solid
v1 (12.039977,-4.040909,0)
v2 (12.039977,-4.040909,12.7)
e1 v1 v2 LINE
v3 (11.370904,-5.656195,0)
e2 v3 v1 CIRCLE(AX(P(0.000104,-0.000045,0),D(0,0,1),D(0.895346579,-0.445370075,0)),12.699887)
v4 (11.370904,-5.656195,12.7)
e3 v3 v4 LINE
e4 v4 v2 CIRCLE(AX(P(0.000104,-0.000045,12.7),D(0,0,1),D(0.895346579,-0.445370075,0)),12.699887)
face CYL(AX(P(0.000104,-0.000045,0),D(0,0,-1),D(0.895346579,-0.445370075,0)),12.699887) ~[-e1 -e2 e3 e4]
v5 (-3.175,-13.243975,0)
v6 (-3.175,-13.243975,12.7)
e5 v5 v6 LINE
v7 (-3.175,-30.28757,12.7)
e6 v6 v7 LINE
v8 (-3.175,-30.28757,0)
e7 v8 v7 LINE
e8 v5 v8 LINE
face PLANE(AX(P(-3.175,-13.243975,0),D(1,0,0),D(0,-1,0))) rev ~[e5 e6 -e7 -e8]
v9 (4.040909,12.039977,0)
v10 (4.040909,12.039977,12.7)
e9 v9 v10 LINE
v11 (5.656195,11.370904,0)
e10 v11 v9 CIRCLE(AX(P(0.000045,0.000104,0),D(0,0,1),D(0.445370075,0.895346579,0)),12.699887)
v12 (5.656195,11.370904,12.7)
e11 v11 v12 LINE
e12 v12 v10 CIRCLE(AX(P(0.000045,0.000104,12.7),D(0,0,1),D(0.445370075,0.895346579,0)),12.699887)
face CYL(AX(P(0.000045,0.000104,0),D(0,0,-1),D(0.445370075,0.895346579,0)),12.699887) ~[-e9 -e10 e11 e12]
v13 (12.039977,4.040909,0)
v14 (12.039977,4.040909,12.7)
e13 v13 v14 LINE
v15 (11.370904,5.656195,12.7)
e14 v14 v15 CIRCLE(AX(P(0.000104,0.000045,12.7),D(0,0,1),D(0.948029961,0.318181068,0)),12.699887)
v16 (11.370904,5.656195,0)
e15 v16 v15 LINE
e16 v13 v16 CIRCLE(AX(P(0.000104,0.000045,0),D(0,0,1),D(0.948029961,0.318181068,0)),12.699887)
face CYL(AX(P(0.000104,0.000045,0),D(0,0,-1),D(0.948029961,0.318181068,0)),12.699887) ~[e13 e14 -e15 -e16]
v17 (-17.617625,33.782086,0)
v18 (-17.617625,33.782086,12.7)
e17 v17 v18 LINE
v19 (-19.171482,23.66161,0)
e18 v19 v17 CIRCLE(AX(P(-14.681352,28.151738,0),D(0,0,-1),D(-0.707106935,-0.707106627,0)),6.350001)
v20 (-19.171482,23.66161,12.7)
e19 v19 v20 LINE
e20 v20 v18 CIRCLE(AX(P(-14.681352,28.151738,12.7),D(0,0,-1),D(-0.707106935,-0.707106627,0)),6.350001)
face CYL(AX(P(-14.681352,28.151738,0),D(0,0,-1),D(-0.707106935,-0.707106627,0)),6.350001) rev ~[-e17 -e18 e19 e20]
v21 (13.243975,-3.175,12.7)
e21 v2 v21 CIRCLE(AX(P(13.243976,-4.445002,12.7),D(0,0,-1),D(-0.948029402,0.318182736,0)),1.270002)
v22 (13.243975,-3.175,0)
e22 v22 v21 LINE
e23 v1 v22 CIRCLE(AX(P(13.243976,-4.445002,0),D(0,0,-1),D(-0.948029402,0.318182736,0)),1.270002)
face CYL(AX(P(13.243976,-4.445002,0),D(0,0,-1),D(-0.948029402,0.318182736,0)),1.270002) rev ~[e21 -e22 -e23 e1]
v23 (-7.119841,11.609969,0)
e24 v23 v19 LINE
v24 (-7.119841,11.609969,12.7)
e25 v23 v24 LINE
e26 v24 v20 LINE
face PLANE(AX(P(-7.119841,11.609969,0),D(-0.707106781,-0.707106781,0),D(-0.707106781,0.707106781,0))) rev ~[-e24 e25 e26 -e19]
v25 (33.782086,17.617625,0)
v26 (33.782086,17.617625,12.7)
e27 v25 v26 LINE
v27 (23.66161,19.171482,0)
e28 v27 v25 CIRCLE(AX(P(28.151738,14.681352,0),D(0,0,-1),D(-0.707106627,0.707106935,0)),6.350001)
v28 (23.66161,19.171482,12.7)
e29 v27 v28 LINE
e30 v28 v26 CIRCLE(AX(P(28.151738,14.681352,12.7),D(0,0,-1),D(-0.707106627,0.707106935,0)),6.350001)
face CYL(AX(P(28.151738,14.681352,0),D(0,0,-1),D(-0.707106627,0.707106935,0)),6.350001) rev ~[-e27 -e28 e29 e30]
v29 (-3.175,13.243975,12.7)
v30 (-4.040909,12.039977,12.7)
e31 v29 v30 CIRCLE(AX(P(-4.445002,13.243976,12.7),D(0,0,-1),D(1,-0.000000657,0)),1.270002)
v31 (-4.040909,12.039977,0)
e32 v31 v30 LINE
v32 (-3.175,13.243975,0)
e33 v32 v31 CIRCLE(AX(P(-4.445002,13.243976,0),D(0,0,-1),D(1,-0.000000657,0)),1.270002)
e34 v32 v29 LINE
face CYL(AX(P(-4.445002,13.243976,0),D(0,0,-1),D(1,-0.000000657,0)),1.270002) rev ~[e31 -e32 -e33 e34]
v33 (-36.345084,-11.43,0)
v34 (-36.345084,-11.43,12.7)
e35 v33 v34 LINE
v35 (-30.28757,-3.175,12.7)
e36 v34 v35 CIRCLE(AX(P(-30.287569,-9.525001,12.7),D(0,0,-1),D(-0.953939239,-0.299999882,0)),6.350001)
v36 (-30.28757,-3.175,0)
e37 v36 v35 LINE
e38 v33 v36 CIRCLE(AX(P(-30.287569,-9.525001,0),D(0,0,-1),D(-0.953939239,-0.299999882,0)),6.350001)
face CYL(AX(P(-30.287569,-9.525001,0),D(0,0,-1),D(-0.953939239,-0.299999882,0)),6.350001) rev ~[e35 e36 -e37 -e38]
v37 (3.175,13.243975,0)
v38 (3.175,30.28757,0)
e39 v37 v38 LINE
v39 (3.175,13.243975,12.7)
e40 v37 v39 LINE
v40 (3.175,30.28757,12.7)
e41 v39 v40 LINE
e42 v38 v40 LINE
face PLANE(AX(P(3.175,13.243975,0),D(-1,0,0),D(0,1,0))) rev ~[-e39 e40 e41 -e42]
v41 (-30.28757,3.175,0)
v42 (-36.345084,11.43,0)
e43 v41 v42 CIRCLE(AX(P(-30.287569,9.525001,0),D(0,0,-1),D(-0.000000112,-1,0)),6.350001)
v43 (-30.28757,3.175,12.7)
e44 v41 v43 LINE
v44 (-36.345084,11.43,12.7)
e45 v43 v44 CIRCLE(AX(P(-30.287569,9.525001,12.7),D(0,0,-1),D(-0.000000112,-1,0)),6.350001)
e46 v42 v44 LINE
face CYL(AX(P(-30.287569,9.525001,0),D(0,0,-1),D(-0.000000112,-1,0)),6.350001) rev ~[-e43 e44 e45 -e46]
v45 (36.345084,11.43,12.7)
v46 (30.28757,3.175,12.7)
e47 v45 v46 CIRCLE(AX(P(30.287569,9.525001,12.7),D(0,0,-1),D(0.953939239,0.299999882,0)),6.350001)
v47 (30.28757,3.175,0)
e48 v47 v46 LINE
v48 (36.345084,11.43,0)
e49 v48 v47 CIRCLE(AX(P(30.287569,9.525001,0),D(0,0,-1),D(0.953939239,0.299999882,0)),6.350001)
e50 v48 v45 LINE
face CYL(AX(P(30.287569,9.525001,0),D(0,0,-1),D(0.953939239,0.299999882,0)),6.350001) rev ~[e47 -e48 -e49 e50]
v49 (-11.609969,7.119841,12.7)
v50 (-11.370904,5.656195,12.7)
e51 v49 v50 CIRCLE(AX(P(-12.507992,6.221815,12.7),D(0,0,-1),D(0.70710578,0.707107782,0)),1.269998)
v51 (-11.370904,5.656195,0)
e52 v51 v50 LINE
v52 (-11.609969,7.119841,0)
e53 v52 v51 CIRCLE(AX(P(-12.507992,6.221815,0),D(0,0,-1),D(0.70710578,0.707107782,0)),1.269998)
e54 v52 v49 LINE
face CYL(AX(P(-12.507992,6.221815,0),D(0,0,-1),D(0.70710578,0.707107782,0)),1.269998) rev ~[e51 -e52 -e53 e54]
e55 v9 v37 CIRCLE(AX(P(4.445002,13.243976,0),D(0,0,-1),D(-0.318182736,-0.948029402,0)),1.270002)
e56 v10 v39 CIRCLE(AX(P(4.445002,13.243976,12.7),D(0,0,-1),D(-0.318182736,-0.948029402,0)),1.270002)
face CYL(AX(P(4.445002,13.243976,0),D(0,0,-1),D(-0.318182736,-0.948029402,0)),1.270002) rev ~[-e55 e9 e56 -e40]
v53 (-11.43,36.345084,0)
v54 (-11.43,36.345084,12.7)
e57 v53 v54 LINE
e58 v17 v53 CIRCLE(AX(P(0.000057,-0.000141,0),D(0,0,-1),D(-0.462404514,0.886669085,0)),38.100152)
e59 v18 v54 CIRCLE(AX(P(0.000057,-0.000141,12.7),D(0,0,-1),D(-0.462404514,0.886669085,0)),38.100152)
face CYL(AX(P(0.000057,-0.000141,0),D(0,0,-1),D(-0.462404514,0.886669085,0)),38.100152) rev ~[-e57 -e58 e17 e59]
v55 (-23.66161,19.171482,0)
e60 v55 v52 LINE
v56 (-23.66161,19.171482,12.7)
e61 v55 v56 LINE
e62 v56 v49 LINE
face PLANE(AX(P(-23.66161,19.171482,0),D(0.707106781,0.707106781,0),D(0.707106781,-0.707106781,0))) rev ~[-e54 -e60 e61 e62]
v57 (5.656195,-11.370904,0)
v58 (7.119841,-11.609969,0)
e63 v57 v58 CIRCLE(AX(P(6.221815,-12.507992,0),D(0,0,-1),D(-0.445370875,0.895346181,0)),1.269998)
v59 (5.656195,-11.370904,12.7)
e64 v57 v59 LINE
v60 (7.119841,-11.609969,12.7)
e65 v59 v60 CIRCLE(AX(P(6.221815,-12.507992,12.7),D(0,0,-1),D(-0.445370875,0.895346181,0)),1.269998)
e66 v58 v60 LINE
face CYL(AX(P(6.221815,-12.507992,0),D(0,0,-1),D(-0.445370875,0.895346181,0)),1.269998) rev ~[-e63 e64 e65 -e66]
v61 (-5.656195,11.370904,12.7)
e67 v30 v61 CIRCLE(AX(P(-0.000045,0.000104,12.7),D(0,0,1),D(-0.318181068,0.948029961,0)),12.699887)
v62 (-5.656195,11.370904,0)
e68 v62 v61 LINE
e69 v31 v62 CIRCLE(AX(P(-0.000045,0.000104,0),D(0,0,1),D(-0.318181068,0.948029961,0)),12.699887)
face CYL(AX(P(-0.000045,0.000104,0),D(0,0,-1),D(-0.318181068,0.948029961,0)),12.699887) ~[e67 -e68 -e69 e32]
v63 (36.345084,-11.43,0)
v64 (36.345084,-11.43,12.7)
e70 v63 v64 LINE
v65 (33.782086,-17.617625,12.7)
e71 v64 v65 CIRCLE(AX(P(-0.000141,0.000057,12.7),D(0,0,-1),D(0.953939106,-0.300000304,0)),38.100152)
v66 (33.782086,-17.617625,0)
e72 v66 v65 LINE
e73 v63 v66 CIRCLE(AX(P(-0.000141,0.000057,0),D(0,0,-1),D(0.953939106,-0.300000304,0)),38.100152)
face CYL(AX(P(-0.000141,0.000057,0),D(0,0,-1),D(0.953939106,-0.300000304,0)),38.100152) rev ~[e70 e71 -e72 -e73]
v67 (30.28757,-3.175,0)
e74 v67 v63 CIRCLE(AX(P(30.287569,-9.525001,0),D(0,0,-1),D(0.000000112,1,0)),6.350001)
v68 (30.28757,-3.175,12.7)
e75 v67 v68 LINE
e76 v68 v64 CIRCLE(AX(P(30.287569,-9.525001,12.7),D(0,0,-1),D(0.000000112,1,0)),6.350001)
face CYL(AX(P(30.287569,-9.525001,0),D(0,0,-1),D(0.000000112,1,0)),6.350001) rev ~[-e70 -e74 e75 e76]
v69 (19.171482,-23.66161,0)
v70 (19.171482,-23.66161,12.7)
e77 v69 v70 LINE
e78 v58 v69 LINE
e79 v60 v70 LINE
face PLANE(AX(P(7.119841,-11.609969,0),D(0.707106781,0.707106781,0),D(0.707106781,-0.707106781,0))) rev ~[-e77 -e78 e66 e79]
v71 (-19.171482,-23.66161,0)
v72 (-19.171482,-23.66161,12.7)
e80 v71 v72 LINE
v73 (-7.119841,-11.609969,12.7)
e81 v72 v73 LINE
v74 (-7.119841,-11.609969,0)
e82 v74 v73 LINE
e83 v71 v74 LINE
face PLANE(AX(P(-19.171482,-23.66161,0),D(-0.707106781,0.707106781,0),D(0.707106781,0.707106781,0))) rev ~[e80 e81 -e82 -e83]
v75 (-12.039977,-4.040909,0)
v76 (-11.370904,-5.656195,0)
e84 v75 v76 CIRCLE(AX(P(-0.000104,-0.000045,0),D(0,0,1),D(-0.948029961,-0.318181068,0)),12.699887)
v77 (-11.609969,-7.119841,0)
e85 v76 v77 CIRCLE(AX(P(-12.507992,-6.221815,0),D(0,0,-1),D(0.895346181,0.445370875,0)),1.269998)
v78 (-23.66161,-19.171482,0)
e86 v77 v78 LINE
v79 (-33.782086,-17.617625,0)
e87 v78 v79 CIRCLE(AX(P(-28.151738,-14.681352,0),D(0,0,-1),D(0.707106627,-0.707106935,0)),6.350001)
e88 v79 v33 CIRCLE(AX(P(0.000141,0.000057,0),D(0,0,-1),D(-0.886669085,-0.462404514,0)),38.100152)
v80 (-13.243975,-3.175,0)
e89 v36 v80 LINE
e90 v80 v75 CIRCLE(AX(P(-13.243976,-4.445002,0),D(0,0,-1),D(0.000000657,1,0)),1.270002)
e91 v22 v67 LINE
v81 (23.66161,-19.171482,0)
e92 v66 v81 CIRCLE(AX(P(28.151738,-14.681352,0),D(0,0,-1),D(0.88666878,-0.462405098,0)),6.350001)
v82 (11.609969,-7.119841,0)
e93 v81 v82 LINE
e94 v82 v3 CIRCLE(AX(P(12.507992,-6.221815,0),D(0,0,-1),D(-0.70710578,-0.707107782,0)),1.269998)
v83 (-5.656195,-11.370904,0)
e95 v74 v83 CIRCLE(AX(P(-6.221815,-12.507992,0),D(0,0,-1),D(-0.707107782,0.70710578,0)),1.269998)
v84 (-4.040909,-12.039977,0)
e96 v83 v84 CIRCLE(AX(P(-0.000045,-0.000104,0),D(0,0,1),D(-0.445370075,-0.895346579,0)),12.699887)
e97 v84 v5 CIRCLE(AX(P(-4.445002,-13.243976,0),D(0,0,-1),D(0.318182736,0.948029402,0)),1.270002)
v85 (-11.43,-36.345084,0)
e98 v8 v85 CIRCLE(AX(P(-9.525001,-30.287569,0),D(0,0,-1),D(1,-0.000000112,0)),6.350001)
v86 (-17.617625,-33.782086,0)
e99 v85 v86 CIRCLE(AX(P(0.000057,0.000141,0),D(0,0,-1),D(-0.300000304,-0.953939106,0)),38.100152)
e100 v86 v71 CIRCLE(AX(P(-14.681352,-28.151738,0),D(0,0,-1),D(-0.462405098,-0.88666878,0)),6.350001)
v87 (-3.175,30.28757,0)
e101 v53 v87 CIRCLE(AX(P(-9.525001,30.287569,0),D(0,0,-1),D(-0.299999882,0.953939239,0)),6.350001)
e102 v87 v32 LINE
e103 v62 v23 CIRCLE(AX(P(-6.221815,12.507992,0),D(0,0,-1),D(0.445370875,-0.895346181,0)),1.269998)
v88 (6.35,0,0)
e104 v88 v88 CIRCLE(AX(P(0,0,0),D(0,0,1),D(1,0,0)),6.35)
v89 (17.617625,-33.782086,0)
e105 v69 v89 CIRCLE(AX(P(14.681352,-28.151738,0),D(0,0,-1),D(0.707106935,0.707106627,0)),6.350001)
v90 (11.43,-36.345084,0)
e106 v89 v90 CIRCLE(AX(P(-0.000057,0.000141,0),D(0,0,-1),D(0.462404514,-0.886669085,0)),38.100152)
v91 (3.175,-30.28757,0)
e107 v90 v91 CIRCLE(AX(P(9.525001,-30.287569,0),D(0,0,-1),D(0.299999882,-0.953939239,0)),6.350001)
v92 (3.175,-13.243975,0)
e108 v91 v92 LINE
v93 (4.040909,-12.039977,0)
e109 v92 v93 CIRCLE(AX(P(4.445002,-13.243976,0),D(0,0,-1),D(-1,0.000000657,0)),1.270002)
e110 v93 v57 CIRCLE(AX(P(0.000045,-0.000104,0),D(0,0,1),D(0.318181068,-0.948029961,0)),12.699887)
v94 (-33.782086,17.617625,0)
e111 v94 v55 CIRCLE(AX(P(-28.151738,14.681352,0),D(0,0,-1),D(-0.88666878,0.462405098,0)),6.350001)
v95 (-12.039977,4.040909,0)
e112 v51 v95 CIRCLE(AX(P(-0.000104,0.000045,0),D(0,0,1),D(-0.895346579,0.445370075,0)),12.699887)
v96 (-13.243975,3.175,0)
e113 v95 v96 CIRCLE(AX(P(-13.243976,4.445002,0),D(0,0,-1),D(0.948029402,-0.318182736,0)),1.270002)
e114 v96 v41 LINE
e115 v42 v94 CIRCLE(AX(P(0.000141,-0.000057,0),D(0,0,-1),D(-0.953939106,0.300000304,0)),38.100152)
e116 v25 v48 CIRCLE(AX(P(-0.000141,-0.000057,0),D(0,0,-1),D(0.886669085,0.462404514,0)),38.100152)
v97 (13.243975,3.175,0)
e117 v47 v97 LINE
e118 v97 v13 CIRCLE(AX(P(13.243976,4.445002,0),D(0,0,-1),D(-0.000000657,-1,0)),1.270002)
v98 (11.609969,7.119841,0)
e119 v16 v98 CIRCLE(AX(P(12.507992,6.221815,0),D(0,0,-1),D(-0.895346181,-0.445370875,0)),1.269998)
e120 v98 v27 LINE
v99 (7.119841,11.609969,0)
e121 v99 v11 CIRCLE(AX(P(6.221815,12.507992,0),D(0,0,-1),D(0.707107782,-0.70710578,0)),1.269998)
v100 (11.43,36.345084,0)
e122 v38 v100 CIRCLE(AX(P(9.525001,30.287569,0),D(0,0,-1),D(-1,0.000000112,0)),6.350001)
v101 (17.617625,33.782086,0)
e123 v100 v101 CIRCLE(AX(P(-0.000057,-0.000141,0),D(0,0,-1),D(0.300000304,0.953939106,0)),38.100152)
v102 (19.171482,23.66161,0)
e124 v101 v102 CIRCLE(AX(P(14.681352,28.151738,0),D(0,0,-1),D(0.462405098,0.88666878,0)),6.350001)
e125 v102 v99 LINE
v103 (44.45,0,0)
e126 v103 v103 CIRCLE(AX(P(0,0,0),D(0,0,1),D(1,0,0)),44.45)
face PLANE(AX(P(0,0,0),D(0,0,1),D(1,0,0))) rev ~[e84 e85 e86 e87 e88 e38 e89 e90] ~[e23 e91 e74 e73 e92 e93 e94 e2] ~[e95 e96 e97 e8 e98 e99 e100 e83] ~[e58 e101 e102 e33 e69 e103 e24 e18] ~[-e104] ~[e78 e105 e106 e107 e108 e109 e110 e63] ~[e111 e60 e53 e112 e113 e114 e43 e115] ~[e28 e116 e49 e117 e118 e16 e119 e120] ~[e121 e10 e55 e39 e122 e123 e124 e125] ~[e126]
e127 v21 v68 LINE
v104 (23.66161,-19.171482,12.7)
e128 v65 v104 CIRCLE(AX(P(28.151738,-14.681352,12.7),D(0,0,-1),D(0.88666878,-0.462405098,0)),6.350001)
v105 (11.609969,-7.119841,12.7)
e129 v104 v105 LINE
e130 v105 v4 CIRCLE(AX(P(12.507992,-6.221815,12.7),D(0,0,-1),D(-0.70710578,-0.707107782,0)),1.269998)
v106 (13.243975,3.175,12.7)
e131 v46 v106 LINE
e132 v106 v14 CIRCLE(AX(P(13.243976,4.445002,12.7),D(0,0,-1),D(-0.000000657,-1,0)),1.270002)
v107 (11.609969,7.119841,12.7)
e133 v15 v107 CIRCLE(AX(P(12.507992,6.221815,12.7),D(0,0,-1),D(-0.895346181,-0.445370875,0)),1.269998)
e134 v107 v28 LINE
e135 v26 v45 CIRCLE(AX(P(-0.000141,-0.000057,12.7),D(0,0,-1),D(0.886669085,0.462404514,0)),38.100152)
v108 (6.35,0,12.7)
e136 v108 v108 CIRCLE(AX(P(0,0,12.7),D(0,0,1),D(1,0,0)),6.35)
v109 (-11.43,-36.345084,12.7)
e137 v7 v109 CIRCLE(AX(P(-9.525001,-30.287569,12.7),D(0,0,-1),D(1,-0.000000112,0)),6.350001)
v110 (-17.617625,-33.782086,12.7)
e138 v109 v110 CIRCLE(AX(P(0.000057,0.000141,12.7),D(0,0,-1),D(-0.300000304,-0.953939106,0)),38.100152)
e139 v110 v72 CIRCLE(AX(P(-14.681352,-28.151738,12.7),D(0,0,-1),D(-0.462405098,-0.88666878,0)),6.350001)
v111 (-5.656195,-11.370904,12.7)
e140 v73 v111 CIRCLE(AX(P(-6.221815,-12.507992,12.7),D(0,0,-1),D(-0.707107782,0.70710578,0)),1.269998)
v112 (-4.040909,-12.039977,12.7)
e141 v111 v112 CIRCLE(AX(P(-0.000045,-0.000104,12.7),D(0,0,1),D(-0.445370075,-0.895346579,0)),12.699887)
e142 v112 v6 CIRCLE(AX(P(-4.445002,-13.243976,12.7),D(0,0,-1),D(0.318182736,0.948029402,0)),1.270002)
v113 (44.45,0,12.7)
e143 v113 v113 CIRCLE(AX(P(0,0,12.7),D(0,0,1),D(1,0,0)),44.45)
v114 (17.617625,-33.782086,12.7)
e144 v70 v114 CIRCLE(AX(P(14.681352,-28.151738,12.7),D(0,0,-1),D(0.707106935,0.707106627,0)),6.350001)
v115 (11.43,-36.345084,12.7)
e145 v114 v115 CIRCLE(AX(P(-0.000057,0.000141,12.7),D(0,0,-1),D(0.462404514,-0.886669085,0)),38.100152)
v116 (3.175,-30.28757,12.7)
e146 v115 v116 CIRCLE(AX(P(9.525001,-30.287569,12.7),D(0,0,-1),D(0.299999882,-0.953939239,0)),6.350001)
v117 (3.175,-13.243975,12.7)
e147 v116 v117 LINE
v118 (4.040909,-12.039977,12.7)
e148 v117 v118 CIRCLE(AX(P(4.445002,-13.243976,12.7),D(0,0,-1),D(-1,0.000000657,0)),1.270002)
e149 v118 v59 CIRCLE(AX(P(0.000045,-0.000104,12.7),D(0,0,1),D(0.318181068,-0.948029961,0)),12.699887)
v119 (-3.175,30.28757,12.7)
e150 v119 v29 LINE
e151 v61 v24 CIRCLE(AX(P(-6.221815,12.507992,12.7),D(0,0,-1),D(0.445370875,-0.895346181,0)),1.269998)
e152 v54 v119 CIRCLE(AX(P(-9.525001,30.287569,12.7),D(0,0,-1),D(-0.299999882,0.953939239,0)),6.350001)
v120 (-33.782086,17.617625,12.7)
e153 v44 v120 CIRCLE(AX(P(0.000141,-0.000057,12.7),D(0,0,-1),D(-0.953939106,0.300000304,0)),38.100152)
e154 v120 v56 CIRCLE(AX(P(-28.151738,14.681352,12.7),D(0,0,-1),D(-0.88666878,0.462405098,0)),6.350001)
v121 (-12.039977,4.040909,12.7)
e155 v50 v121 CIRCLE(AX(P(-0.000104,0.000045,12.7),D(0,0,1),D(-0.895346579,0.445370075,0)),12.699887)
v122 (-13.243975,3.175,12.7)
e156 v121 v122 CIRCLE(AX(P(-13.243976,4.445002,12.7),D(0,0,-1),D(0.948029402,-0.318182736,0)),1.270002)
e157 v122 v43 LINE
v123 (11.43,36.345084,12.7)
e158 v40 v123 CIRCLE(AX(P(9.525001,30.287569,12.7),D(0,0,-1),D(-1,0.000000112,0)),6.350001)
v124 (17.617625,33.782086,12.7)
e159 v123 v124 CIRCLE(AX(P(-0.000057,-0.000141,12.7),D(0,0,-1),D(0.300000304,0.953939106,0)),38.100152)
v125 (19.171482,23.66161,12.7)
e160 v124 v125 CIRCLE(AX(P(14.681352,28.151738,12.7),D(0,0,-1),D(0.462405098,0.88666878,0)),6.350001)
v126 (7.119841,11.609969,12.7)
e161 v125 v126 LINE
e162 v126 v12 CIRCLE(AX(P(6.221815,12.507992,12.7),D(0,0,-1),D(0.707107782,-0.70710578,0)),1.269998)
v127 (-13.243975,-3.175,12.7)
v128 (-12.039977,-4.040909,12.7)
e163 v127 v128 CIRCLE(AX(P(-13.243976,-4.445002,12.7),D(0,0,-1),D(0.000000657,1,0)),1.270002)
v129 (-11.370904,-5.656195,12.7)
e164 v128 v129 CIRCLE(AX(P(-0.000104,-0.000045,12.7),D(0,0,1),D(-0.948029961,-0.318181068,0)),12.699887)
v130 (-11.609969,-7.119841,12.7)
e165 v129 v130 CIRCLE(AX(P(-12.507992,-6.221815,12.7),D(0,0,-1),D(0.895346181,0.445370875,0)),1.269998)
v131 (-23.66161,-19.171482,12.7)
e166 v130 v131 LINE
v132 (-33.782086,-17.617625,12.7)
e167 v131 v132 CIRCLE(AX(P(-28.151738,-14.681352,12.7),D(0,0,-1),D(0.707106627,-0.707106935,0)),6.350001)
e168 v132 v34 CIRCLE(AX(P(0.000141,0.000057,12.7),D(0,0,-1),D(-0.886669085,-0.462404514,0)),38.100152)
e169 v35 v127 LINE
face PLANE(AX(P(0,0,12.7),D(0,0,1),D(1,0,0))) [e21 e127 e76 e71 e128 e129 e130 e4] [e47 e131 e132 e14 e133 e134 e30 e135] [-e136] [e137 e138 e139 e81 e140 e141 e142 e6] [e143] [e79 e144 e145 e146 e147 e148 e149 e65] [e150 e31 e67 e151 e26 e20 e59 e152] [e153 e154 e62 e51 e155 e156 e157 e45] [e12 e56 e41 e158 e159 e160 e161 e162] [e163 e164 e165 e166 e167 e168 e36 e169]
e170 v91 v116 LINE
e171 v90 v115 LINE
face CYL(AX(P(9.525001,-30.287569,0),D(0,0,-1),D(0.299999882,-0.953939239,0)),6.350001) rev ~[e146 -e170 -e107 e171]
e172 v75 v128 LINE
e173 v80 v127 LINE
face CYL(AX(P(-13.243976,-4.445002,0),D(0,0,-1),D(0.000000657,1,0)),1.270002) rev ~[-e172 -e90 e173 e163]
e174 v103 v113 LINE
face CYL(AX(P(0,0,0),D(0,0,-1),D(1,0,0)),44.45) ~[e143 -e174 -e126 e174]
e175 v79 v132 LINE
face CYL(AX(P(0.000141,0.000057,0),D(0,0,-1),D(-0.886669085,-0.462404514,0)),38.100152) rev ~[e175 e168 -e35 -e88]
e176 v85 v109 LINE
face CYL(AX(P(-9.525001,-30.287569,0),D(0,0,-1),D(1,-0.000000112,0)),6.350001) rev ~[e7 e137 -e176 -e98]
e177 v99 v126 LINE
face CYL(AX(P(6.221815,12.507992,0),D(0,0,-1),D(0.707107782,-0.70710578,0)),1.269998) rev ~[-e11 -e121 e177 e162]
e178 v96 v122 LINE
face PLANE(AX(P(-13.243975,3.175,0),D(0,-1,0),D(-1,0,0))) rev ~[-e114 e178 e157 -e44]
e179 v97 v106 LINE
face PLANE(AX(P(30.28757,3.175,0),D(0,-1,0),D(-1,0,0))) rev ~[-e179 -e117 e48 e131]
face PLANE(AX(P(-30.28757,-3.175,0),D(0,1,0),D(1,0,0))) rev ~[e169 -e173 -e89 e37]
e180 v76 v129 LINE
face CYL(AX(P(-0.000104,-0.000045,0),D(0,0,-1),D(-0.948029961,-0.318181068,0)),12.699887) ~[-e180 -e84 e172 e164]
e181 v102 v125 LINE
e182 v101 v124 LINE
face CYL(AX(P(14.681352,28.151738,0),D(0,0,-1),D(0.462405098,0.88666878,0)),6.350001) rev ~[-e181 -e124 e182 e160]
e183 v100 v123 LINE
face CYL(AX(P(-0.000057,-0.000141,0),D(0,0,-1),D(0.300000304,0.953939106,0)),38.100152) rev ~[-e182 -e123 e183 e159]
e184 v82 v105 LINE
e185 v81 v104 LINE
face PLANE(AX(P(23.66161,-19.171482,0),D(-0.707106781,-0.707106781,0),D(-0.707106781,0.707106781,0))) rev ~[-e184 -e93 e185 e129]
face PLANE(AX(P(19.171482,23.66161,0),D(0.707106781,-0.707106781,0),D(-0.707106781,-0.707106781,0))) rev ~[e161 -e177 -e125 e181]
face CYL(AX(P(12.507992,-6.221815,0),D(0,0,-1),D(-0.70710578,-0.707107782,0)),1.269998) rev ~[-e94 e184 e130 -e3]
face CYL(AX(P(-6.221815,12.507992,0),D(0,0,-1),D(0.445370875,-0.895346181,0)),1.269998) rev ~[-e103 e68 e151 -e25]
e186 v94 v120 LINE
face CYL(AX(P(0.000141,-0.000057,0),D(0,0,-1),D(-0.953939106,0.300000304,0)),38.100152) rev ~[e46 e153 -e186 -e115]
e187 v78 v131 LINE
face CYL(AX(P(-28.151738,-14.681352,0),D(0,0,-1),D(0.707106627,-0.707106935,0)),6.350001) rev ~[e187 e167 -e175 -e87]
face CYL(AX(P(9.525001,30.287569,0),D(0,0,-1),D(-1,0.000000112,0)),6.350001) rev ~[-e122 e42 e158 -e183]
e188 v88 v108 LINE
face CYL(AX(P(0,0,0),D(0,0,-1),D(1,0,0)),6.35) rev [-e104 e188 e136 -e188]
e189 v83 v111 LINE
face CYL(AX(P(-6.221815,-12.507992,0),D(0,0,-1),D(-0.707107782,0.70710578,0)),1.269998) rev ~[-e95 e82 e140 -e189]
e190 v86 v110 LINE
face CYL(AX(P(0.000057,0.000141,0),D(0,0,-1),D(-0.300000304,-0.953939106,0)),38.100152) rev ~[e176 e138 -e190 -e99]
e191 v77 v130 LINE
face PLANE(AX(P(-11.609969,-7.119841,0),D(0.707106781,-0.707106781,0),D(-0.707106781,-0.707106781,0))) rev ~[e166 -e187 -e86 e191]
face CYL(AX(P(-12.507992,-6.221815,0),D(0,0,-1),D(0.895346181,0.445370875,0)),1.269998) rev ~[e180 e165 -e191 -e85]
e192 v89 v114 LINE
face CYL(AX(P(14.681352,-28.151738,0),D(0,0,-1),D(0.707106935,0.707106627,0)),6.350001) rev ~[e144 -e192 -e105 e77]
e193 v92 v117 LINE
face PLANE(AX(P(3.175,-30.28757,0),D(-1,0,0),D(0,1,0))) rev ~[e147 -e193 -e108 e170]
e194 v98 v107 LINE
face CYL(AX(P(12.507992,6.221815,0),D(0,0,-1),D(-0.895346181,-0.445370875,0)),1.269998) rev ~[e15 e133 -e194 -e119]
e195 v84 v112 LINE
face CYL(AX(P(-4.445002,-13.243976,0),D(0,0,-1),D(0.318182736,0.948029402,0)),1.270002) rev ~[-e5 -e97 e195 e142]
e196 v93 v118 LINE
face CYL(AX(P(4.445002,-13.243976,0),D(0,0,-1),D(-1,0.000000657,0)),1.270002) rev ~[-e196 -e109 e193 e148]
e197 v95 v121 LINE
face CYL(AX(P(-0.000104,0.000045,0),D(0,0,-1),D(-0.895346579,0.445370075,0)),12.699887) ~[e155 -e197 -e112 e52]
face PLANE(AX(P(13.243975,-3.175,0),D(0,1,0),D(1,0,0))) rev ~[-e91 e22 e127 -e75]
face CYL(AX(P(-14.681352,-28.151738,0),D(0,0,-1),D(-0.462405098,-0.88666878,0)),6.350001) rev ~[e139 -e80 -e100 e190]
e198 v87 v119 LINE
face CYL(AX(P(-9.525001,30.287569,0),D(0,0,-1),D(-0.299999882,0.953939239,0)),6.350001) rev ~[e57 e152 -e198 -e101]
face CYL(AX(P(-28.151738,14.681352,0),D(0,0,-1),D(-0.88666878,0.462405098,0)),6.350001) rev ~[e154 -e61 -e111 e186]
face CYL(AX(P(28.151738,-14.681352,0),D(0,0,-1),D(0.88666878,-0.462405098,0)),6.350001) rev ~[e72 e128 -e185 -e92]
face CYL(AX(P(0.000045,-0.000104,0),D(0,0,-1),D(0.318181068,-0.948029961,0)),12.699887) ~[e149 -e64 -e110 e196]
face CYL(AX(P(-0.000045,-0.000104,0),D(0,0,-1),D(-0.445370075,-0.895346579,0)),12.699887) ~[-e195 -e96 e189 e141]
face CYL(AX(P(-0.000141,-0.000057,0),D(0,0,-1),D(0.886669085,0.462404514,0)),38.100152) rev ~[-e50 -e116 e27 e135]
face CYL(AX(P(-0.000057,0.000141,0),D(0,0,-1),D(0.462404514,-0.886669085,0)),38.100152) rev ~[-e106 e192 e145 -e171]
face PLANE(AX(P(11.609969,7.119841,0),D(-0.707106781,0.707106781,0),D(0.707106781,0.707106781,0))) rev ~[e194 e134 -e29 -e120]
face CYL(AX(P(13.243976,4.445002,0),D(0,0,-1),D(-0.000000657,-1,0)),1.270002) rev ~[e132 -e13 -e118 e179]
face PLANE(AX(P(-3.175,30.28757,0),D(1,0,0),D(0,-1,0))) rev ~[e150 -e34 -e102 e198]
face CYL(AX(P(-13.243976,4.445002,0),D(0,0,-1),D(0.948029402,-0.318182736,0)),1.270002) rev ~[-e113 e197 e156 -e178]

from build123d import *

# Parameters (mm, degrees)
F0_R     = 44.45
F0_R_2   = 6.35
F1_DEPTH = 12.7


with BuildPart() as f1:
    # F0 (on Top) → F1 (new body)
    with BuildSketch(Plane.XY):
        Circle(F0_R)
        with BuildLine():
            ThreePointArc((-4.040909, -12.039977), (-3.413958, -12.502455), (-3.175, -13.243975))
            Line((-3.175, -13.243975), (-3.175, -30.28757))
            ThreePointArc((-3.175, -30.28757), (-5.768289, -35.407103), (-11.43, -36.345084))
            ThreePointArc((-11.43, -36.345084), (-14.580239, -35.19981), (-17.617625, -33.782086))
            ThreePointArc((-17.617625, -33.782086), (-20.957806, -29.115399), (-19.171482, -23.66161))
            Line((-19.171482, -23.66161), (-7.119841, -11.609969))
            ThreePointArc((-7.119841, -11.609969), (-6.426538, -11.254603), (-5.656195, -11.370904))
            ThreePointArc((-5.656195, -11.370904), (-4.86008, -11.73327), (-4.040909, -12.039977))
        make_face(mode=Mode.SUBTRACT)
        with BuildLine():
            Line((-30.28757, -3.175), (-13.243975, -3.175))
            ThreePointArc((-13.243975, -3.175), (-12.502455, -3.413958), (-12.039977, -4.040909))
            ThreePointArc((-12.039977, -4.040909), (-11.73327, -4.86008), (-11.370904, -5.656195))
            ThreePointArc((-11.370904, -5.656195), (-11.254603, -6.426538), (-11.609969, -7.119841))
            Line((-11.609969, -7.119841), (-23.66161, -19.171482))
            ThreePointArc((-23.66161, -19.171482), (-29.115399, -20.957806), (-33.782086, -17.617625))
            ThreePointArc((-33.782086, -17.617625), (-35.19981, -14.580239), (-36.345084, -11.43))
            ThreePointArc((-36.345084, -11.43), (-35.407103, -5.768289), (-30.28757, -3.175))
        make_face(mode=Mode.SUBTRACT)
        with BuildLine():
            Line((3.175, -30.28757), (3.175, -13.243975))
            ThreePointArc((3.175, -13.243975), (3.413958, -12.502455), (4.040909, -12.039977))
            ThreePointArc((4.040909, -12.039977), (4.86008, -11.73327), (5.656195, -11.370904))
            ThreePointArc((5.656195, -11.370904), (6.426538, -11.254603), (7.119841, -11.609969))
            Line((7.119841, -11.609969), (19.171482, -23.66161))
            ThreePointArc((19.171482, -23.66161), (20.957806, -29.115399), (17.617625, -33.782086))
            ThreePointArc((17.617625, -33.782086), (14.580239, -35.19981), (11.43, -36.345084))
            ThreePointArc((11.43, -36.345084), (5.768289, -35.407103), (3.175, -30.28757))
        make_face(mode=Mode.SUBTRACT)
        with BuildLine():
            ThreePointArc((12.039977, -4.040909), (12.502455, -3.413958), (13.243975, -3.175))
            Line((13.243975, -3.175), (30.28757, -3.175))
            ThreePointArc((30.28757, -3.175), (35.407103, -5.768289), (36.345084, -11.43))
            ThreePointArc((36.345084, -11.43), (35.19981, -14.580239), (33.782086, -17.617625))
            ThreePointArc((33.782086, -17.617625), (29.115399, -20.957806), (23.66161, -19.171482))
            Line((23.66161, -19.171482), (11.609969, -7.119841))
            ThreePointArc((11.609969, -7.119841), (11.254603, -6.426538), (11.370904, -5.656195))
            ThreePointArc((11.370904, -5.656195), (11.73327, -4.86008), (12.039977, -4.040909))
        make_face(mode=Mode.SUBTRACT)
        with BuildLine():
            ThreePointArc((-12.039977, 4.040909), (-12.502455, 3.413958), (-13.243975, 3.175))
            Line((-13.243975, 3.175), (-30.28757, 3.175))
            ThreePointArc((-30.28757, 3.175), (-35.407103, 5.768289), (-36.345084, 11.43))
            ThreePointArc((-36.345084, 11.43), (-35.19981, 14.580239), (-33.782086, 17.617625))
            ThreePointArc((-33.782086, 17.617625), (-29.115399, 20.957806), (-23.66161, 19.171482))
            Line((-23.66161, 19.171482), (-11.609969, 7.119841))
            ThreePointArc((-11.609969, 7.119841), (-11.254603, 6.426538), (-11.370904, 5.656195))
            ThreePointArc((-11.370904, 5.656195), (-11.73327, 4.86008), (-12.039977, 4.040909))
        make_face(mode=Mode.SUBTRACT)
        with BuildLine():
            ThreePointArc((-17.617625, 33.782086), (-14.580239, 35.19981), (-11.43, 36.345084))
            ThreePointArc((-11.43, 36.345084), (-5.768289, 35.407103), (-3.175, 30.28757))
            Line((-3.175, 30.28757), (-3.175, 13.243975))
            ThreePointArc((-3.175, 13.243975), (-3.413958, 12.502455), (-4.040909, 12.039977))
            ThreePointArc((-4.040909, 12.039977), (-4.86008, 11.73327), (-5.656195, 11.370904))
            ThreePointArc((-5.656195, 11.370904), (-6.426538, 11.254603), (-7.119841, 11.609969))
            Line((-7.119841, 11.609969), (-19.171482, 23.66161))
            ThreePointArc((-19.171482, 23.66161), (-20.957806, 29.115399), (-17.617625, 33.782086))
        make_face(mode=Mode.SUBTRACT)
        Circle(F0_R_2, mode=Mode.SUBTRACT)
        with BuildLine():
            ThreePointArc((13.243975, 3.175), (12.502455, 3.413958), (12.039977, 4.040909))
            ThreePointArc((12.039977, 4.040909), (11.73327, 4.86008), (11.370904, 5.656195))
            ThreePointArc((11.370904, 5.656195), (11.254603, 6.426538), (11.609969, 7.119841))
            Line((11.609969, 7.119841), (23.66161, 19.171482))
            ThreePointArc((23.66161, 19.171482), (29.115399, 20.957806), (33.782086, 17.617625))
            ThreePointArc((33.782086, 17.617625), (35.19981, 14.580239), (36.345084, 11.43))
            ThreePointArc((36.345084, 11.43), (35.407103, 5.768289), (30.28757, 3.175))
            Line((30.28757, 3.175), (13.243975, 3.175))
        make_face(mode=Mode.SUBTRACT)
        with BuildLine():
            Line((3.175, 13.243975), (3.175, 30.28757))
            ThreePointArc((3.175, 30.28757), (5.768289, 35.407103), (11.43, 36.345084))
            ThreePointArc((11.43, 36.345084), (14.580239, 35.19981), (17.617625, 33.782086))
            ThreePointArc((17.617625, 33.782086), (20.957806, 29.115399), (19.171482, 23.66161))
            Line((19.171482, 23.66161), (7.119841, 11.609969))
            ThreePointArc((7.119841, 11.609969), (6.426538, 11.254603), (5.656195, 11.370904))
            ThreePointArc((5.656195, 11.370904), (4.86008, 11.73327), (4.040909, 12.039977))
            ThreePointArc((4.040909, 12.039977), (3.413958, 12.502455), (3.175, 13.243975))
        make_face(mode=Mode.SUBTRACT)
    extrude(amount=F1_DEPTH)


solid = f1.part
